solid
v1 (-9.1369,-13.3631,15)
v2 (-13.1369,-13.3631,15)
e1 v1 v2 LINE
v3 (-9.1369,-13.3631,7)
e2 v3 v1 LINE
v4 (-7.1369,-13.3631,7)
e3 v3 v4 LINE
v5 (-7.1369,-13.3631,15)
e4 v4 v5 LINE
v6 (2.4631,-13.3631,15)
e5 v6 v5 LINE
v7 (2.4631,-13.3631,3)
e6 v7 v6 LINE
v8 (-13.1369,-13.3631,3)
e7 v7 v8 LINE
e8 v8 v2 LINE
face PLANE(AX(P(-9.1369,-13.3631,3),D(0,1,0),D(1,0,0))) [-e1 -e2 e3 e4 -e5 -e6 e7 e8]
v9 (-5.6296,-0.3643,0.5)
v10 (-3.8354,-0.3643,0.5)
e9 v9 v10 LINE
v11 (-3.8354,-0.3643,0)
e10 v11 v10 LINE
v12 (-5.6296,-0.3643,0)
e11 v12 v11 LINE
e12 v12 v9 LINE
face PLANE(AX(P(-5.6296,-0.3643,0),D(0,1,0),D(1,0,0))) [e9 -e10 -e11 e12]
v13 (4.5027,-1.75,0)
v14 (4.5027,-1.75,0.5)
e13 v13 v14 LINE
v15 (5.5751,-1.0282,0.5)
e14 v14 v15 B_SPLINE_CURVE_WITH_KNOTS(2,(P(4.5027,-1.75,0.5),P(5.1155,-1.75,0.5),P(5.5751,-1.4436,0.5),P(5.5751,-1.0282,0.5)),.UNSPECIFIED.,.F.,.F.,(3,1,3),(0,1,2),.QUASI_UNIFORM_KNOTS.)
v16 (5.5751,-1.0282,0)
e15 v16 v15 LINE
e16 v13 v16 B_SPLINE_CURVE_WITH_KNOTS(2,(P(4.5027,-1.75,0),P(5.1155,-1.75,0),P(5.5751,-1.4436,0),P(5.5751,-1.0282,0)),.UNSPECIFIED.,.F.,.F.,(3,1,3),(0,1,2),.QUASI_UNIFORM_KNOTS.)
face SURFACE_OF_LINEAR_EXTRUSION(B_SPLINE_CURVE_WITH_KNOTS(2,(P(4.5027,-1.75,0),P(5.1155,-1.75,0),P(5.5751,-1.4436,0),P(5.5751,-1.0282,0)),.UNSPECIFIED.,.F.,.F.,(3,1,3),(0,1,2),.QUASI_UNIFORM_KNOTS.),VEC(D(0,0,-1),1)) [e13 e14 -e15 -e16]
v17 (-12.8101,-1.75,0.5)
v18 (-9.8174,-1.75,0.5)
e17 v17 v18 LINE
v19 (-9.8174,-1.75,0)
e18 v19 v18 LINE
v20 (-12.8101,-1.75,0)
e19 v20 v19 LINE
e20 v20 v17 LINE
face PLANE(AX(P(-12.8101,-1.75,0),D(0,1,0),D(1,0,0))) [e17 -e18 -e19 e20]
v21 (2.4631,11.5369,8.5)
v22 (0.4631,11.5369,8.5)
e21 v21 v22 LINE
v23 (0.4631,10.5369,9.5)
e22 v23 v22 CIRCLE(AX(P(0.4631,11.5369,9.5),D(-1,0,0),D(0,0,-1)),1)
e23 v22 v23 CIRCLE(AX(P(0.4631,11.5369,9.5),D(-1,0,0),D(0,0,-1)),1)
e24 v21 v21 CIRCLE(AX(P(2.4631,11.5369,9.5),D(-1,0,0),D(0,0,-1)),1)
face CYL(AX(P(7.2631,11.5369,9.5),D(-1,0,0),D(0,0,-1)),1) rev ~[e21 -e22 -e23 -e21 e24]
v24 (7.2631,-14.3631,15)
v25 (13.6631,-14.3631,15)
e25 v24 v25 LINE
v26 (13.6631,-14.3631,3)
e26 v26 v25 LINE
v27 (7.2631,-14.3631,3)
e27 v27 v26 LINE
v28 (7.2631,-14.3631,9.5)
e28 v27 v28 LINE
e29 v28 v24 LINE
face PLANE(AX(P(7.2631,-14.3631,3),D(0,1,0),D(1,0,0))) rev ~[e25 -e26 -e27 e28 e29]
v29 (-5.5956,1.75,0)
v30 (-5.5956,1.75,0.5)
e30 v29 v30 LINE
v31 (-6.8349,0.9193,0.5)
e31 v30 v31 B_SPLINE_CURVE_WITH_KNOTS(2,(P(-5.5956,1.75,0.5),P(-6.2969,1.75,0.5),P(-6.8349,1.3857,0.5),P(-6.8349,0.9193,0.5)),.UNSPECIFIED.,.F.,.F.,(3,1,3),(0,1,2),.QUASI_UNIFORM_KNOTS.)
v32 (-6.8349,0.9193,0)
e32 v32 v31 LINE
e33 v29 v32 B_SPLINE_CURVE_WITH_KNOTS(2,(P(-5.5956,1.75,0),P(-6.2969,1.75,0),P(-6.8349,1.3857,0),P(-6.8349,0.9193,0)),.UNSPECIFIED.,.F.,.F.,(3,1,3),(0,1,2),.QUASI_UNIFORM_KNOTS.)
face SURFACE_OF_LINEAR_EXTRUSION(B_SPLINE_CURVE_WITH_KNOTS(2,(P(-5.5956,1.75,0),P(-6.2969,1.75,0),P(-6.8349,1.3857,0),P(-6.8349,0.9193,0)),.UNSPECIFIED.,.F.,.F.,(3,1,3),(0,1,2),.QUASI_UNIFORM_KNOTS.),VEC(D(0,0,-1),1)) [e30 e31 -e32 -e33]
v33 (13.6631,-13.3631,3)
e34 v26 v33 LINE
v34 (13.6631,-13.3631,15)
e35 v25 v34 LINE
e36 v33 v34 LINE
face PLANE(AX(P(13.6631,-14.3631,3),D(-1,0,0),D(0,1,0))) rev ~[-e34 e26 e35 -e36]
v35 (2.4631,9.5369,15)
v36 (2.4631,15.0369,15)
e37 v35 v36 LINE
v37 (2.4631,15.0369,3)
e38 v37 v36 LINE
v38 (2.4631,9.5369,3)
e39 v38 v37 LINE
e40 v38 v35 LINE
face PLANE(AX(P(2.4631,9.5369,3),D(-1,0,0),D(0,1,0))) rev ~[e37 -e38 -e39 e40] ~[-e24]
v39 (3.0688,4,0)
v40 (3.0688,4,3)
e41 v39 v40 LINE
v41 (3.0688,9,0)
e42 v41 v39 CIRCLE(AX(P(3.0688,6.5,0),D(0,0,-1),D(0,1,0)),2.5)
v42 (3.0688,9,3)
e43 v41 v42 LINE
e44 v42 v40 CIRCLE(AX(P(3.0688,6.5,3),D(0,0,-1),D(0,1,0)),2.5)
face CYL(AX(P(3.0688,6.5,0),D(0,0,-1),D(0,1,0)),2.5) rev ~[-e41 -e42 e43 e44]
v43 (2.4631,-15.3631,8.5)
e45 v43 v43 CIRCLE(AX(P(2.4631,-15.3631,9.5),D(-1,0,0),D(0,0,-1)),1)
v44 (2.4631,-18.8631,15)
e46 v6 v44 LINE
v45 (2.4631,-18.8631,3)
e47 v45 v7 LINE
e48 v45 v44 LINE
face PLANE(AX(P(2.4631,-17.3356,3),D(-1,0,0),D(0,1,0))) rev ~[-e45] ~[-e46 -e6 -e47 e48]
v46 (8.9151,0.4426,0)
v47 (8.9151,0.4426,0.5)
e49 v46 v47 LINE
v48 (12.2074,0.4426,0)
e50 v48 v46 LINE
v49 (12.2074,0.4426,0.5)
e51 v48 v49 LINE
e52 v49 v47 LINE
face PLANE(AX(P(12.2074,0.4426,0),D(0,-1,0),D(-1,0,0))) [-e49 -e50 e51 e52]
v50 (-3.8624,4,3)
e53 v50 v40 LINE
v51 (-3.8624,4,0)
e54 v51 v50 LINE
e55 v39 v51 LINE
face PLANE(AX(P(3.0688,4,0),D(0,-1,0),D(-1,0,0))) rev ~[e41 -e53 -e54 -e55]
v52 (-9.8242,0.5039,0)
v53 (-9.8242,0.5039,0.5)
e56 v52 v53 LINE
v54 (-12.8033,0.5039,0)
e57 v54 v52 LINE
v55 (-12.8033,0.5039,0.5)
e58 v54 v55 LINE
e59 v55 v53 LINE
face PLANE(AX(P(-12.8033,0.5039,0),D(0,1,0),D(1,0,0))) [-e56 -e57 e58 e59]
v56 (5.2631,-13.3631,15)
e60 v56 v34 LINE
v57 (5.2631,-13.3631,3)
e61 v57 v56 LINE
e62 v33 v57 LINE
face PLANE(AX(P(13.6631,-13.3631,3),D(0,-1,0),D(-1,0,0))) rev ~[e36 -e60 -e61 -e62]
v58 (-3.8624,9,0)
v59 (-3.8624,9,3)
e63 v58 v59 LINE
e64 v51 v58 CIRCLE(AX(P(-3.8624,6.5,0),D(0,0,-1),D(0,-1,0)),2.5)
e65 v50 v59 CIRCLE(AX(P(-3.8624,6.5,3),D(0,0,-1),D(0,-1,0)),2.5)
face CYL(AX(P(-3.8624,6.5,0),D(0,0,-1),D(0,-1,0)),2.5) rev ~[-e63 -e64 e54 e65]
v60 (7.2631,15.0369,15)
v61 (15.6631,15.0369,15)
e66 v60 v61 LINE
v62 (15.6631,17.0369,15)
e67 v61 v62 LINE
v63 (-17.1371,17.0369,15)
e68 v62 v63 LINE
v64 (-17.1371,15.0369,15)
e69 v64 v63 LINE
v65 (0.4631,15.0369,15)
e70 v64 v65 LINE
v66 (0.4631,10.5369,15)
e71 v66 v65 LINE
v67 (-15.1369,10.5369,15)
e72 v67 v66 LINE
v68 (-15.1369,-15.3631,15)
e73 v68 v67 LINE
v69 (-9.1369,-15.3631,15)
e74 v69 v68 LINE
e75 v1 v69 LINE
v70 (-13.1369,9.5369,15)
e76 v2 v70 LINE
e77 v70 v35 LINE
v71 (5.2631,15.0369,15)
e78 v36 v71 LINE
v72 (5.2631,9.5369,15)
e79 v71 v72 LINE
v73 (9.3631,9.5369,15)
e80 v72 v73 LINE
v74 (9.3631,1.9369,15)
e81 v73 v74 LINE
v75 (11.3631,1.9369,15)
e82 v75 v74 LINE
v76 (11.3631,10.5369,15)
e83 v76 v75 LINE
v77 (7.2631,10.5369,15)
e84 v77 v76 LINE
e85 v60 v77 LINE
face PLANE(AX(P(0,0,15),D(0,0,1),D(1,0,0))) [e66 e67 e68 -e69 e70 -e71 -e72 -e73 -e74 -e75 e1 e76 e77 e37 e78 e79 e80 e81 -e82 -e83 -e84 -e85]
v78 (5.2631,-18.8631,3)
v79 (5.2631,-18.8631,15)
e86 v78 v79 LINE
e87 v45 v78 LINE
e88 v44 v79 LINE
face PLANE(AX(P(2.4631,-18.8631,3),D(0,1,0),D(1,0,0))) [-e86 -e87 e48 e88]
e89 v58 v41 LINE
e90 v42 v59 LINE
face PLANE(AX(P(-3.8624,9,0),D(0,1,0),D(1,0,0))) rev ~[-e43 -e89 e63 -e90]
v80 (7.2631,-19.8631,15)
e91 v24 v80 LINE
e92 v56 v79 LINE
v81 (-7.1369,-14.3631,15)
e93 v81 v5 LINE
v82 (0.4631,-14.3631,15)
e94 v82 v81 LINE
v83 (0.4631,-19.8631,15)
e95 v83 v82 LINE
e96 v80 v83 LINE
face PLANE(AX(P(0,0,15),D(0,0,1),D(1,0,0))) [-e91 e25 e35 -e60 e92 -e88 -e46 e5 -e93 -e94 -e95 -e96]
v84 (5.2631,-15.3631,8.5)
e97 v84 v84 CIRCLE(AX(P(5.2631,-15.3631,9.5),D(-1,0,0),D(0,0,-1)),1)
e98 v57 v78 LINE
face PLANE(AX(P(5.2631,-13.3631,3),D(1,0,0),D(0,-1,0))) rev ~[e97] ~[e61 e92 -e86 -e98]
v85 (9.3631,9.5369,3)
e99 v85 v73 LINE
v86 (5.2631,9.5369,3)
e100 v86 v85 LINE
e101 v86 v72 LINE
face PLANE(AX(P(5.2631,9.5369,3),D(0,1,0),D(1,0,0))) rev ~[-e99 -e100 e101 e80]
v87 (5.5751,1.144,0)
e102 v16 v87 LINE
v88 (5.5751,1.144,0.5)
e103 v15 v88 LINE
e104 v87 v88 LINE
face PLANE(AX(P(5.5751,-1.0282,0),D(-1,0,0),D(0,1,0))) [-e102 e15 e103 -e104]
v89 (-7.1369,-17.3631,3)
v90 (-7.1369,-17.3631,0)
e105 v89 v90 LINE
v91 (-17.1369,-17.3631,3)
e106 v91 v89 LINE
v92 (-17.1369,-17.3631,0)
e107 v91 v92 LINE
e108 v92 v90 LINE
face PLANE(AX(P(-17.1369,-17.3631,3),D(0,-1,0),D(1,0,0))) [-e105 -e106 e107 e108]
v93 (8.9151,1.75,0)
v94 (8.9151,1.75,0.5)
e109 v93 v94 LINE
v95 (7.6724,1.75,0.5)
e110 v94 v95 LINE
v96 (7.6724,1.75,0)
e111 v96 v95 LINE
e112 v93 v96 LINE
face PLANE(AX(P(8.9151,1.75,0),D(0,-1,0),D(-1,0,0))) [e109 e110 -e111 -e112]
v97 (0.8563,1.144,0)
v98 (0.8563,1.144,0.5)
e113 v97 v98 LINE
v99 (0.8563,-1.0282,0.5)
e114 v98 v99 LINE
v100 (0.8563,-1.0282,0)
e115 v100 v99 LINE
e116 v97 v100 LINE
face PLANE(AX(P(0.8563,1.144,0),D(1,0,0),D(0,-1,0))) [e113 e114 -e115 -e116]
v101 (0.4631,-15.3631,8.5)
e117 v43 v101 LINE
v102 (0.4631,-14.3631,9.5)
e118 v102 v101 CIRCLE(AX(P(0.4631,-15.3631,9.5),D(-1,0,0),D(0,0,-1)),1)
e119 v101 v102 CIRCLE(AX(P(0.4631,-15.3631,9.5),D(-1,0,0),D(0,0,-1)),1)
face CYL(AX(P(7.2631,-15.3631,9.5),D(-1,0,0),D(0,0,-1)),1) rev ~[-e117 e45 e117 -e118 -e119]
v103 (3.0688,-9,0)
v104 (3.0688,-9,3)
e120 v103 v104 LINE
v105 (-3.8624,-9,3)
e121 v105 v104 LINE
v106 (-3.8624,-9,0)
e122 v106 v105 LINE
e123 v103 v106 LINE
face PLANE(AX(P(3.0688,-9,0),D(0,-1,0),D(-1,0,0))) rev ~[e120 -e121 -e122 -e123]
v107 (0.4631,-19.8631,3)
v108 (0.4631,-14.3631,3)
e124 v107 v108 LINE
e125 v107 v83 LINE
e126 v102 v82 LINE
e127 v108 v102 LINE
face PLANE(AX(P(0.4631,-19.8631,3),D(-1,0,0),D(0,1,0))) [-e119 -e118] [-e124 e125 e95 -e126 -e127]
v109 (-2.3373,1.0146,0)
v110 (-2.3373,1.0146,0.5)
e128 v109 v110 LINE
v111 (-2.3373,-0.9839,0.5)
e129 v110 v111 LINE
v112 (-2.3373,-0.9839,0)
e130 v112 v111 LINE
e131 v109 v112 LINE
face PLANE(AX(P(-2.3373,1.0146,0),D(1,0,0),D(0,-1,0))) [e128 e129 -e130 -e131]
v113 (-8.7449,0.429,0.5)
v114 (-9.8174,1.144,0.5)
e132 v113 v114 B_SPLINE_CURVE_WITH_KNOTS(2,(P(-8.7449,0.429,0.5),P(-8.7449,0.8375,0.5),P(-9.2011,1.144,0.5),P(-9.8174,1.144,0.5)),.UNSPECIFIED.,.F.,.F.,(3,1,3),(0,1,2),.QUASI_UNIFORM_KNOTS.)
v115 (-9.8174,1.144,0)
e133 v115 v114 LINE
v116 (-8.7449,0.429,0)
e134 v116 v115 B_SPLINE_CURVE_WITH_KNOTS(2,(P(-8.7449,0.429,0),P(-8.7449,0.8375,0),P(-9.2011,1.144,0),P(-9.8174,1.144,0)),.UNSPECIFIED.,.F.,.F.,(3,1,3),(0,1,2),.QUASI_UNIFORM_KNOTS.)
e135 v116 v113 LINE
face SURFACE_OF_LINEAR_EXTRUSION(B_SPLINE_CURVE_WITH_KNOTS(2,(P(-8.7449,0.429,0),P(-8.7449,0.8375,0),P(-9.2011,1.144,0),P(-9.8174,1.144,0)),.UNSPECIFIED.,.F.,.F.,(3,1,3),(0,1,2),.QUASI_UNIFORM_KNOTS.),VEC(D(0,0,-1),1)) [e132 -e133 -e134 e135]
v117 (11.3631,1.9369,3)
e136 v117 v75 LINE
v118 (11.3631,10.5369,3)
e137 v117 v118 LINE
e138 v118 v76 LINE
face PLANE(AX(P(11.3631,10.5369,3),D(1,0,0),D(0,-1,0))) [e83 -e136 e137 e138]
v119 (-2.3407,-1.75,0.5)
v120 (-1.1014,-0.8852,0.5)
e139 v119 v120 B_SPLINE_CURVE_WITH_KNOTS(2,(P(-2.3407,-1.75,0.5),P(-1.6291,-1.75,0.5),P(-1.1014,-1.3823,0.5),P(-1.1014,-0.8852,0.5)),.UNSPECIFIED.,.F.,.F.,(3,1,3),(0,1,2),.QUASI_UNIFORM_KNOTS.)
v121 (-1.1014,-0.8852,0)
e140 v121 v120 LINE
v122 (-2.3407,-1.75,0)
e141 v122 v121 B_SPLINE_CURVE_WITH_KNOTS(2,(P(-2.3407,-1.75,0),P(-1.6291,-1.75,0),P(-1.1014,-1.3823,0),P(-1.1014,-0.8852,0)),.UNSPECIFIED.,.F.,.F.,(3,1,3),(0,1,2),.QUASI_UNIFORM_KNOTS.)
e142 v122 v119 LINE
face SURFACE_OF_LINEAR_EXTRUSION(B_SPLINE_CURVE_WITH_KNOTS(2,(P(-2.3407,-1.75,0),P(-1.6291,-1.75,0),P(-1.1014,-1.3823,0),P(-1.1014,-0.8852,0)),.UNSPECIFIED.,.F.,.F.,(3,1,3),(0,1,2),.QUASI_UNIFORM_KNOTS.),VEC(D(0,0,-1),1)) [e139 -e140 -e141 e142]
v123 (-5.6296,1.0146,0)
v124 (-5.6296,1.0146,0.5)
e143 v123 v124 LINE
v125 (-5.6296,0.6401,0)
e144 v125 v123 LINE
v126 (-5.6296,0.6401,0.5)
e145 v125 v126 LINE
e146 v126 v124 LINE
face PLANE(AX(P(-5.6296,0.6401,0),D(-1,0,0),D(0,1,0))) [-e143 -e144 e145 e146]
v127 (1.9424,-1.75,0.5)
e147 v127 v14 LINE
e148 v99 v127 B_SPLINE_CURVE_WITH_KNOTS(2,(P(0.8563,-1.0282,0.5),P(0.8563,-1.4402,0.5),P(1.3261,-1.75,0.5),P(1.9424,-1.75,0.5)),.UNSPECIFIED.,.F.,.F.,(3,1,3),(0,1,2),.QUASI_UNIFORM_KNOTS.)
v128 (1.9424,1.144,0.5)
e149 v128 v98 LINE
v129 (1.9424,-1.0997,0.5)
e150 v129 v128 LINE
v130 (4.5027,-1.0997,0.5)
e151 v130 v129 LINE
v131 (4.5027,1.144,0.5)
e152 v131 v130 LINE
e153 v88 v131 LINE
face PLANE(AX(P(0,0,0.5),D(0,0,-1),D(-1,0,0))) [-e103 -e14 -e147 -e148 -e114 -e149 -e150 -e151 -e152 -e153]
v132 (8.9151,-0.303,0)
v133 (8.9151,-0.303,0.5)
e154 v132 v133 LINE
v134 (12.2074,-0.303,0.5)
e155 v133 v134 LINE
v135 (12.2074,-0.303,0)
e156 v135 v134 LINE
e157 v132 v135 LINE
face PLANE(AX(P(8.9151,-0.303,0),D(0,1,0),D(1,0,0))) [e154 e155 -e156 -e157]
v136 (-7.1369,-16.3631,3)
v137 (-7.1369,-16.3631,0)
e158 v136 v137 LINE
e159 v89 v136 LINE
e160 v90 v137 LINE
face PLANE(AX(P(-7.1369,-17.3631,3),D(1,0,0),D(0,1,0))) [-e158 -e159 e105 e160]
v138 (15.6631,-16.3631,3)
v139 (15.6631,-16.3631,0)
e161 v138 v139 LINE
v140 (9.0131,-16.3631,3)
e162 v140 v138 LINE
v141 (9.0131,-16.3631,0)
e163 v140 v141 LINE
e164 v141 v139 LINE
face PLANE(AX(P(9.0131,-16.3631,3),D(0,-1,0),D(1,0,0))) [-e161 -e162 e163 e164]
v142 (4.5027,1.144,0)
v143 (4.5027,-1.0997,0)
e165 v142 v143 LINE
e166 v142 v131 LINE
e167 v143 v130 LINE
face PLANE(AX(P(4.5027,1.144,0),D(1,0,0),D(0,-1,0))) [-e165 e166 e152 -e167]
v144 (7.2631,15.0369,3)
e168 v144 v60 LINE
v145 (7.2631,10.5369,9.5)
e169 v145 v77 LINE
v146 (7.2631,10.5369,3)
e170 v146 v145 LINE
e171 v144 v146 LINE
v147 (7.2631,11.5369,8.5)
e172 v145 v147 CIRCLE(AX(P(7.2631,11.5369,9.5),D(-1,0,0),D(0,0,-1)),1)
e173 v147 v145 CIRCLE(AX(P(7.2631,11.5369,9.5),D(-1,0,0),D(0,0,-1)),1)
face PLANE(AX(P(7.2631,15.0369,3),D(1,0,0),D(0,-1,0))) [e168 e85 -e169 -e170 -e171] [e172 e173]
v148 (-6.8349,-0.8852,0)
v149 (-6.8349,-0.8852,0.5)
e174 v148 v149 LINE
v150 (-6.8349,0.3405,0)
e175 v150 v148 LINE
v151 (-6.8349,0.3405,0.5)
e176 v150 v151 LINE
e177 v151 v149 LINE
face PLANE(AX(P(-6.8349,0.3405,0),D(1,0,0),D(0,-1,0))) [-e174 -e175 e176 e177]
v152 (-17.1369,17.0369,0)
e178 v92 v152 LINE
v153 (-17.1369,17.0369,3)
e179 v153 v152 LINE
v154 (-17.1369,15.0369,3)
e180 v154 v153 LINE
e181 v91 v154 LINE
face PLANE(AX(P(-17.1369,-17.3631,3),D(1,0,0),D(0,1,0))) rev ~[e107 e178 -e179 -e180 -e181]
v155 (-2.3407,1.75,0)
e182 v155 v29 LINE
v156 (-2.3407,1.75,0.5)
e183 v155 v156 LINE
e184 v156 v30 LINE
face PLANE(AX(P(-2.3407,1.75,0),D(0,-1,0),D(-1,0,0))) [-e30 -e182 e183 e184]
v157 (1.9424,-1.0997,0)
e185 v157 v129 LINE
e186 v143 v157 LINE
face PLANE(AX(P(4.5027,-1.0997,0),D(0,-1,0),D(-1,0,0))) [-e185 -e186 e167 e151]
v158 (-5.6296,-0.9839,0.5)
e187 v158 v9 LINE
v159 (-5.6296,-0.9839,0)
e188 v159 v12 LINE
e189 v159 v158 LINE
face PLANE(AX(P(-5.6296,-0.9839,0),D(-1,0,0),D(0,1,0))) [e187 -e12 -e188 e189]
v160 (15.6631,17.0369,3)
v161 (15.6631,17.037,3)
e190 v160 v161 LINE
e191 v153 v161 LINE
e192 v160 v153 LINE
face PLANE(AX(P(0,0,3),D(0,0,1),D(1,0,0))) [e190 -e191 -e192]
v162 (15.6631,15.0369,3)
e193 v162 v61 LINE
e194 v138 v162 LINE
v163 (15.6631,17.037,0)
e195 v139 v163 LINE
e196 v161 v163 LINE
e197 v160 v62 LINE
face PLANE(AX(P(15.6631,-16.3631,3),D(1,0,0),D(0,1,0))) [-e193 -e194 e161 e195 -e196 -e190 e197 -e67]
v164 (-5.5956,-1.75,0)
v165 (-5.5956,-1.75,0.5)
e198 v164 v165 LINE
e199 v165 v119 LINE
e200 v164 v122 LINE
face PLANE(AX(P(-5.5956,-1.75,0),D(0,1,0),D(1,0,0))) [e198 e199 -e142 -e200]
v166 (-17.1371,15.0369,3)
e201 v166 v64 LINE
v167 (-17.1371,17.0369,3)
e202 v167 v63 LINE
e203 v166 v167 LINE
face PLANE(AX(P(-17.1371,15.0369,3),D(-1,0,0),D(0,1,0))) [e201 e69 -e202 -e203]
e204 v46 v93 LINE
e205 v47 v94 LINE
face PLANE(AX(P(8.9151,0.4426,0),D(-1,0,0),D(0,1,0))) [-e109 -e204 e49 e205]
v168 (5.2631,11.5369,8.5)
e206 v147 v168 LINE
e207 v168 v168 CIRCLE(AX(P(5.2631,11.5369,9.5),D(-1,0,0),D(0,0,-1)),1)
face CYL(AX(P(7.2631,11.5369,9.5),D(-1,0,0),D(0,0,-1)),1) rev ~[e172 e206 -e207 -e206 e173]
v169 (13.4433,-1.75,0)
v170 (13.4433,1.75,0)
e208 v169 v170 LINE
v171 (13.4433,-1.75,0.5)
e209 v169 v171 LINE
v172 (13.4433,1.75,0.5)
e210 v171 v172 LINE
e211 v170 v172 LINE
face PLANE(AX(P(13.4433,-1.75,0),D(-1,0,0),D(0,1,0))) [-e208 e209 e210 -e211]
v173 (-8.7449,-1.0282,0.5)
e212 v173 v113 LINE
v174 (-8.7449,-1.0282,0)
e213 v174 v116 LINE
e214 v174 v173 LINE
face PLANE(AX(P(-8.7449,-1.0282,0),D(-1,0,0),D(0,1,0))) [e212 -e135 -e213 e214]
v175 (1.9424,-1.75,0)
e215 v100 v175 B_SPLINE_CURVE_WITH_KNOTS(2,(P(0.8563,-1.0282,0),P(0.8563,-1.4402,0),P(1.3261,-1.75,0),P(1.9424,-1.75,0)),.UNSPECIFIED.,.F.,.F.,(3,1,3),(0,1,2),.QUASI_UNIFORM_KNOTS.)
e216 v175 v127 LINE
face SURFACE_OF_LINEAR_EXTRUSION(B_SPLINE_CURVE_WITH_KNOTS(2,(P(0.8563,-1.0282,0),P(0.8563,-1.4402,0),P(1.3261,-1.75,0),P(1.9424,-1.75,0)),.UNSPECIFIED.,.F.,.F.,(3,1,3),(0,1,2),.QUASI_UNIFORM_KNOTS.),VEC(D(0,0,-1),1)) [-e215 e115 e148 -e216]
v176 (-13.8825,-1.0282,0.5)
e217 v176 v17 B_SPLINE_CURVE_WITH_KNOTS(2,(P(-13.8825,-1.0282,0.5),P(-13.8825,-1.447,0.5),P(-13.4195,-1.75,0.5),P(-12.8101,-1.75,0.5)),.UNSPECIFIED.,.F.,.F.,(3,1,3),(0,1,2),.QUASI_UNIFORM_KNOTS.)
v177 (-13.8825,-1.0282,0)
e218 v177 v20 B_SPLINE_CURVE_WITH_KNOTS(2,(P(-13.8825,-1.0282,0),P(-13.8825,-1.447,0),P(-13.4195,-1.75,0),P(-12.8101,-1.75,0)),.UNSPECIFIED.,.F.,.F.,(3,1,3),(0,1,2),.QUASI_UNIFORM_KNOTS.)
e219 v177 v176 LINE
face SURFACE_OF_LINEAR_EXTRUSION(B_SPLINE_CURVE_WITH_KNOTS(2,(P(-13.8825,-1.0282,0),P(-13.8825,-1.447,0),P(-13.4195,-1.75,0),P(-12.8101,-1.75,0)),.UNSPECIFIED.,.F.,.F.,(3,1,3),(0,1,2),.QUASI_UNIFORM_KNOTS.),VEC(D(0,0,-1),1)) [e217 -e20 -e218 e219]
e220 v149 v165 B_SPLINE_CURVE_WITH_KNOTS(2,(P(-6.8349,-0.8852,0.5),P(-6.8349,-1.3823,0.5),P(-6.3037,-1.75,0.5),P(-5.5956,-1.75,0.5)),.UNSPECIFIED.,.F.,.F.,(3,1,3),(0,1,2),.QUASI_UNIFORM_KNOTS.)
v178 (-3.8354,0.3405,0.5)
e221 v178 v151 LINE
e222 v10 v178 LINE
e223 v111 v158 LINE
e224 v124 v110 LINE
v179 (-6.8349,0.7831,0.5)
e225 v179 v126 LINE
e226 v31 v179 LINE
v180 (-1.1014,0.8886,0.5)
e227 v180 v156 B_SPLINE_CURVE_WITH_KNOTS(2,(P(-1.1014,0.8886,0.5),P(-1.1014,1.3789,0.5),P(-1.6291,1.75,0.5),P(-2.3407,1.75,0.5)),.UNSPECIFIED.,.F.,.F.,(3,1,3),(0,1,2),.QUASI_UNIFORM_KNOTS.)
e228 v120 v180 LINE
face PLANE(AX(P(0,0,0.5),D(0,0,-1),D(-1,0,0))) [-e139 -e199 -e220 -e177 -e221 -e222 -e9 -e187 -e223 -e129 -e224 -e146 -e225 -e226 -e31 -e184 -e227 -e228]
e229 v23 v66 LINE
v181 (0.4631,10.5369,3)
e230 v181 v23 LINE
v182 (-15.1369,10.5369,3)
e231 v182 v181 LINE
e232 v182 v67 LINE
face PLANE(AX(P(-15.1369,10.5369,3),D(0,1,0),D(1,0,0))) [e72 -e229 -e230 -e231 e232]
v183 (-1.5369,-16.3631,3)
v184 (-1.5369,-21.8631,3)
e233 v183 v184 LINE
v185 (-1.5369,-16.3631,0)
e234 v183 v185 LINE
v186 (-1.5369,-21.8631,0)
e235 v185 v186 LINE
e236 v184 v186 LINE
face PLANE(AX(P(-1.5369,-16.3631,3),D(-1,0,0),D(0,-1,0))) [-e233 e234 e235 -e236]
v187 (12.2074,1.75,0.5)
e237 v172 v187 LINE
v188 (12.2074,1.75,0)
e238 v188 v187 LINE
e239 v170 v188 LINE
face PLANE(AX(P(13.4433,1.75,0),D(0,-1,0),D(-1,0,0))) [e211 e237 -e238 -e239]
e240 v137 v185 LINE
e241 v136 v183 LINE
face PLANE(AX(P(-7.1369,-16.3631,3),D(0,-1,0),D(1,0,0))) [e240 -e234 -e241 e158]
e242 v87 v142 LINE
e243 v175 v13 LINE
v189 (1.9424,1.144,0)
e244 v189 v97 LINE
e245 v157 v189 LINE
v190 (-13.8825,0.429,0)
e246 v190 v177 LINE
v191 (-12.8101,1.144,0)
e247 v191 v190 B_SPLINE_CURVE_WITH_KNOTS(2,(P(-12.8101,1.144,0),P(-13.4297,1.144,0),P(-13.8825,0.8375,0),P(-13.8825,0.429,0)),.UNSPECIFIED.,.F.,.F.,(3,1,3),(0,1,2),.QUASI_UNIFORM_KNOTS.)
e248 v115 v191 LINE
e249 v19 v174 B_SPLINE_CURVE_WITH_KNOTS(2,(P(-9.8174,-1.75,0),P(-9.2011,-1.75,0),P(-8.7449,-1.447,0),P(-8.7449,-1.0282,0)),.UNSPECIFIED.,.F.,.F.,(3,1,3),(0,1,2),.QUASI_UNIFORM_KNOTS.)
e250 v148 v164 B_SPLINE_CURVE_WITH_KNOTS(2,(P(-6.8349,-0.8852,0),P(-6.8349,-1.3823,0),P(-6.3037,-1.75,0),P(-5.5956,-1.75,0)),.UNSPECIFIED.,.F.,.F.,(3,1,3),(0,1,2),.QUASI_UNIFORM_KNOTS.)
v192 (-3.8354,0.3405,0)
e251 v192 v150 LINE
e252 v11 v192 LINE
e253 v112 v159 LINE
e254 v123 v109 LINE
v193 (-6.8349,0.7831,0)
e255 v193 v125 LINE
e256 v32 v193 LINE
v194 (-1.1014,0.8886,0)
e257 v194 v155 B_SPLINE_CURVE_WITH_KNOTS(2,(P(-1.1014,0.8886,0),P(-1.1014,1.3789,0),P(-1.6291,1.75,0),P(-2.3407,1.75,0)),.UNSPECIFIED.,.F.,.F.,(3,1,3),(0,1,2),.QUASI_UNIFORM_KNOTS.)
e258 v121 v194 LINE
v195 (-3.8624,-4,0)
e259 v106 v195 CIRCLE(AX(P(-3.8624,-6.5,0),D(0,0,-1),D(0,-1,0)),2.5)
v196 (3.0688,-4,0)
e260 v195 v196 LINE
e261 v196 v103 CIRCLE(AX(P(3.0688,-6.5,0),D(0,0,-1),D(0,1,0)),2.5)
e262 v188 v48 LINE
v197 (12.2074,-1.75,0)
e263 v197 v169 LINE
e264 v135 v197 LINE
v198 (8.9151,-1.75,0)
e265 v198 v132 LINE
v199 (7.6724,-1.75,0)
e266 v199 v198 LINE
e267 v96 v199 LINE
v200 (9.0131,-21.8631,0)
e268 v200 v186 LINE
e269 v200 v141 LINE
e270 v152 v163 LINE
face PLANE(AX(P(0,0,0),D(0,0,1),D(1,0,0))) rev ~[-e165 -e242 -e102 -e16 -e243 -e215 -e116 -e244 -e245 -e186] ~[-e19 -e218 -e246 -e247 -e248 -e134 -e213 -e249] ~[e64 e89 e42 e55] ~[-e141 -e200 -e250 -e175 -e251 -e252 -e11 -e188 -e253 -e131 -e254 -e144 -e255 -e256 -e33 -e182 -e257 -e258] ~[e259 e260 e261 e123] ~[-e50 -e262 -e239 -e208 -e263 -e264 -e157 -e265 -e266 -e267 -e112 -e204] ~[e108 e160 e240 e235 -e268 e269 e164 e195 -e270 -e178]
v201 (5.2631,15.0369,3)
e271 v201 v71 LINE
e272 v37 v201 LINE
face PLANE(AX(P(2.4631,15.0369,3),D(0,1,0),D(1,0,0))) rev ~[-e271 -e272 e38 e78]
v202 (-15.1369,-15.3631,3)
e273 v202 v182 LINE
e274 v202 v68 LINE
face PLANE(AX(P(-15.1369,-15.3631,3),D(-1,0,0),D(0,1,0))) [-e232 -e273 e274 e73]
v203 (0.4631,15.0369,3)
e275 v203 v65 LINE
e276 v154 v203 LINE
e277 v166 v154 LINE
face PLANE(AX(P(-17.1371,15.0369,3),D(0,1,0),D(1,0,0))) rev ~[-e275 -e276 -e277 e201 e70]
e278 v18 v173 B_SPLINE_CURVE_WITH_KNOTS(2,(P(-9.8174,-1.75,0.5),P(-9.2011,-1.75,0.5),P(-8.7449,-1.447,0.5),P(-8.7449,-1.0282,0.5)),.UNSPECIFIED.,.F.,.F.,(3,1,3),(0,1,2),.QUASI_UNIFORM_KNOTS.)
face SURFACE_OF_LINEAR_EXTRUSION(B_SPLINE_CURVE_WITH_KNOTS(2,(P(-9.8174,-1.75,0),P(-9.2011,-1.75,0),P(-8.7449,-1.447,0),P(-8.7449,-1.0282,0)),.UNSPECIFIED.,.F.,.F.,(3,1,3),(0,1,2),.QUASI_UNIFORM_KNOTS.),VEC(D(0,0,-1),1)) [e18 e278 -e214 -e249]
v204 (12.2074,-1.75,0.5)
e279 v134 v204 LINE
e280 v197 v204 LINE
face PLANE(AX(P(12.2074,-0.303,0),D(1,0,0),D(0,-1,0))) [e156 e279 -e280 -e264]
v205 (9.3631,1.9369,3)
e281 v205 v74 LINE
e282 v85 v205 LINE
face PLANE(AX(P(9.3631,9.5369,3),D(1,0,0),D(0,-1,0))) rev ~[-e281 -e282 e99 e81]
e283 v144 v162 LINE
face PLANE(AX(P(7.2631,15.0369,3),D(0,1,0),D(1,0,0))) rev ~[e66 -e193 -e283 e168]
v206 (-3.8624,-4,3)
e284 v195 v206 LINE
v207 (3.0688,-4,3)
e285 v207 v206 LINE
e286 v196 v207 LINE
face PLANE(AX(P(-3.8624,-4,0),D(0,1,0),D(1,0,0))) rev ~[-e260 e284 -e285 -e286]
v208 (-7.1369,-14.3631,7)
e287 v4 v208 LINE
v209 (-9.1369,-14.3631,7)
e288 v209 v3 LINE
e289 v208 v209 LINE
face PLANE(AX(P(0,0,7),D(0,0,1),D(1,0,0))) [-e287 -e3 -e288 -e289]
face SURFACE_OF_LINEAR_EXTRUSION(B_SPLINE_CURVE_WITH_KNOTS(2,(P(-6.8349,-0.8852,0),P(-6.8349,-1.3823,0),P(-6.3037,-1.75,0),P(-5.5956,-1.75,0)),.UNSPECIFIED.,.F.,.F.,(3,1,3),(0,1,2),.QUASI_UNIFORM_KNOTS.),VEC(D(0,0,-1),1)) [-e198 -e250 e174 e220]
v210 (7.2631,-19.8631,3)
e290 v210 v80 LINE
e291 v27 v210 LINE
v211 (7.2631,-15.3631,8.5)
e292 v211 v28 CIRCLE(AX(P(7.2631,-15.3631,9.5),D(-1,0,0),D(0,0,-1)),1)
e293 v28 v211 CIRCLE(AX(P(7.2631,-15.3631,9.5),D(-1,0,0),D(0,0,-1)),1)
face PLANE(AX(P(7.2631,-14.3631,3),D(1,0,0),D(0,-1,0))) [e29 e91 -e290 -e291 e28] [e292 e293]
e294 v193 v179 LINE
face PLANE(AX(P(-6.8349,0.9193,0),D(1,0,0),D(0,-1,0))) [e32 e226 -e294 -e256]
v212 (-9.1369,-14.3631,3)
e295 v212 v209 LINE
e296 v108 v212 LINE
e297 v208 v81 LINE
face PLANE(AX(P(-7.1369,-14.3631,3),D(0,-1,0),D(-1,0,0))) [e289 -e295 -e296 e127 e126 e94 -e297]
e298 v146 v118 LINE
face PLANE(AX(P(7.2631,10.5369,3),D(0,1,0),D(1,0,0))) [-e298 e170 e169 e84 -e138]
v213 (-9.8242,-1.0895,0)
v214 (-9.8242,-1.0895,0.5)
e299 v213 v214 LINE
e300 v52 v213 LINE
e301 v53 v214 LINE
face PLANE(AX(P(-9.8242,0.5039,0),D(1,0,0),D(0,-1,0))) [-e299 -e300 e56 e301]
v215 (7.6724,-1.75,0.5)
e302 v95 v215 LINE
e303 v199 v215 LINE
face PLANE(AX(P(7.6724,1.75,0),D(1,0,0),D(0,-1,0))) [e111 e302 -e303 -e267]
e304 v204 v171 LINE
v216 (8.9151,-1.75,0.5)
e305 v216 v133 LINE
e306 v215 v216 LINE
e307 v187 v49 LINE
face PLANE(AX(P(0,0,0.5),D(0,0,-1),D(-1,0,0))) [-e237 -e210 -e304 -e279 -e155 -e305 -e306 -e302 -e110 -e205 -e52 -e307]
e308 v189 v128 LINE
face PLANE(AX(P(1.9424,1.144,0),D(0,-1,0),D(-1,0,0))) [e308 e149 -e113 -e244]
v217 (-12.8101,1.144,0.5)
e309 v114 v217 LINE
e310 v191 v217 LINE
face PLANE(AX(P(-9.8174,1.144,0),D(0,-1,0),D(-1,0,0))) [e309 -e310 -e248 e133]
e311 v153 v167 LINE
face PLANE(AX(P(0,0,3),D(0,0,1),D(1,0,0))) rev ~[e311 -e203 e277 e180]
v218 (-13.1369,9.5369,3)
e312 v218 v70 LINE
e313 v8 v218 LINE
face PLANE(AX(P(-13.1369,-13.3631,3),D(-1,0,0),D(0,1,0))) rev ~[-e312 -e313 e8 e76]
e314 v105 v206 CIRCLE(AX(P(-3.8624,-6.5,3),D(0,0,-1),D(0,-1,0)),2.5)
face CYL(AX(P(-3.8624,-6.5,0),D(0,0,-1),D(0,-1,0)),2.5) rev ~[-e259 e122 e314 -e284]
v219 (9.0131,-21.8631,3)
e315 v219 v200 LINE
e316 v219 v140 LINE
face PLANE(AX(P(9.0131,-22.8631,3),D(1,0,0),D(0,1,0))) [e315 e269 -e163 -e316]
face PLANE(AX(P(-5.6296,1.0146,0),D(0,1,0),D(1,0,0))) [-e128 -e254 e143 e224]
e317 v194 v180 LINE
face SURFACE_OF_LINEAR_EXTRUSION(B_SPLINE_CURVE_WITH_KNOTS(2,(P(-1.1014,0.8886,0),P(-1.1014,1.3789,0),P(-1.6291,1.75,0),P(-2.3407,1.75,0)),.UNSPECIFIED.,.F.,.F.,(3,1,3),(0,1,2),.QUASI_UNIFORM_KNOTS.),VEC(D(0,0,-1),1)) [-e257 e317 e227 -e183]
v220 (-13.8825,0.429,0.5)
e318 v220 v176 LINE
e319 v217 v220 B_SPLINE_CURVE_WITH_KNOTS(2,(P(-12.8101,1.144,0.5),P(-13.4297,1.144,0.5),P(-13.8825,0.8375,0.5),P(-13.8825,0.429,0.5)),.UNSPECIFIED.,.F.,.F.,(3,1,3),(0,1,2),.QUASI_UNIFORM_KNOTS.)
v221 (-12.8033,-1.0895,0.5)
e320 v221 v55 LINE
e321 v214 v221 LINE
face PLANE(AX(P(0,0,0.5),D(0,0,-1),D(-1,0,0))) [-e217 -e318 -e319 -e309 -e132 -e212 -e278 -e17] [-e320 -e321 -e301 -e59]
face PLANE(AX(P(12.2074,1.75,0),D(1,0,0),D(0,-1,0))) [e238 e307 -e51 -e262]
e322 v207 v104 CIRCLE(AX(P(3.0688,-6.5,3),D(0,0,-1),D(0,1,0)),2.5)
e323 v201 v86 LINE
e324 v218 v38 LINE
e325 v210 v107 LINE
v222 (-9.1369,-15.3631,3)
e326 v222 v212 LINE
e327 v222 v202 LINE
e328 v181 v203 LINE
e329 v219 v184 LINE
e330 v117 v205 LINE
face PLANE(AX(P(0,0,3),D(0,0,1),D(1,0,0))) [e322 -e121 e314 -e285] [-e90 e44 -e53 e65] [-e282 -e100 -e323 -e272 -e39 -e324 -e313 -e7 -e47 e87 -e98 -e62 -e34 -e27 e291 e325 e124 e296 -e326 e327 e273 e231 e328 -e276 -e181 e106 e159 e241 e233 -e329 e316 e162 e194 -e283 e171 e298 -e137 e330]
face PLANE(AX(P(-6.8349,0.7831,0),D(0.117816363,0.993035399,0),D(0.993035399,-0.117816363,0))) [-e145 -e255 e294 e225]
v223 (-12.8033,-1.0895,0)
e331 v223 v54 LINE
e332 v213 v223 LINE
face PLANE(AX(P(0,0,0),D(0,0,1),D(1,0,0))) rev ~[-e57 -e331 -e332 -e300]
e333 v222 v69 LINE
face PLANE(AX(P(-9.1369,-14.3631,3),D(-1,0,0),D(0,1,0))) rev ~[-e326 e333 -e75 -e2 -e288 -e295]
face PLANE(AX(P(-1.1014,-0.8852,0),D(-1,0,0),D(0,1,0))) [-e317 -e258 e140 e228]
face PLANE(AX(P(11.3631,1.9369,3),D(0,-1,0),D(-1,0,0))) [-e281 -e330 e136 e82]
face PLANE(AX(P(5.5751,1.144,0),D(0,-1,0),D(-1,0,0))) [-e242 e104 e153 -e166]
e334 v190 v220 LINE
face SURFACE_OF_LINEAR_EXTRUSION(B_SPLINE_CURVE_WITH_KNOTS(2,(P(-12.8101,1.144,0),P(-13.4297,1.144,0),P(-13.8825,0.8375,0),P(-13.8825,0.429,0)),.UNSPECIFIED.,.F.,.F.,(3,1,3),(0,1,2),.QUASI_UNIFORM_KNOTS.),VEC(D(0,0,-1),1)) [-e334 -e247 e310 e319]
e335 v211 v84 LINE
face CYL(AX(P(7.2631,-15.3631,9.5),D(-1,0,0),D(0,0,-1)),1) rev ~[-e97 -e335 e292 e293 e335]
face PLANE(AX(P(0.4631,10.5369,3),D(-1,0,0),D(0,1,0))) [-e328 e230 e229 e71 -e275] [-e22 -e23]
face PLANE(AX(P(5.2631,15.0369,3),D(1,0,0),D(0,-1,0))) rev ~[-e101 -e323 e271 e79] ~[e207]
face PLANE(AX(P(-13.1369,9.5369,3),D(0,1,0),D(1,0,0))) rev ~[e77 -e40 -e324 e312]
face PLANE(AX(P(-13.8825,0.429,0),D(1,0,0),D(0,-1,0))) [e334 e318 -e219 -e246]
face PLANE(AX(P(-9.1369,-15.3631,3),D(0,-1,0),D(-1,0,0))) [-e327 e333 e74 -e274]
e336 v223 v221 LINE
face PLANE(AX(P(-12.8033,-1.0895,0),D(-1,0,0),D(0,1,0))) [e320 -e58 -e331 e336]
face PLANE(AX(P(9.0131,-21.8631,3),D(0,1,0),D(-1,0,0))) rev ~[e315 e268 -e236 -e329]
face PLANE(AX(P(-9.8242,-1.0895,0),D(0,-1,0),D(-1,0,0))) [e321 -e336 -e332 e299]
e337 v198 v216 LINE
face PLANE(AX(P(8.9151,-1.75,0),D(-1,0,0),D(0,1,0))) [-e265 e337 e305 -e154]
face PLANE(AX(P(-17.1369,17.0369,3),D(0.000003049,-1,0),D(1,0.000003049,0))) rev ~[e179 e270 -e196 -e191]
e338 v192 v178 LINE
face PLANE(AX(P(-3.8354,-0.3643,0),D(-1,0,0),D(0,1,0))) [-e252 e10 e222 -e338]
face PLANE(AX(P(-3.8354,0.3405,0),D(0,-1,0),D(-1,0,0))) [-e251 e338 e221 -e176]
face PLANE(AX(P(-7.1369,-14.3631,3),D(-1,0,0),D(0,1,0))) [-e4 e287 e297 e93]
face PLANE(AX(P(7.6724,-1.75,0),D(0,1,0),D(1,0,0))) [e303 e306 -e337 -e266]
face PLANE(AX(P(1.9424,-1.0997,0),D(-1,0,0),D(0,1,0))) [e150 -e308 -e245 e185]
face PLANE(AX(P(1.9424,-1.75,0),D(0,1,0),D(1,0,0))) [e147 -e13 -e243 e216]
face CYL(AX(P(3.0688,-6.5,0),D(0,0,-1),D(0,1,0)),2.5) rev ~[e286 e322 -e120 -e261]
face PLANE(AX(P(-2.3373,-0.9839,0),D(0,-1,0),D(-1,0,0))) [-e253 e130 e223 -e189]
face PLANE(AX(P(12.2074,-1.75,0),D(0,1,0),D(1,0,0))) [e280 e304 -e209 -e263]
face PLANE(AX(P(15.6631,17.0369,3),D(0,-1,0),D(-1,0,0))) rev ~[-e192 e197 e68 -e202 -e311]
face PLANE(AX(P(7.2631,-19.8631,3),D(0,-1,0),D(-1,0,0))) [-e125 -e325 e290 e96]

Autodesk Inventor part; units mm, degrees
ref_plane "YZ Plane" through (0, 0, 0) normal (1, 0, 0) x (0, 1, 0)
ref_plane "XZ Plane" through (0, 0, 0) normal (0, 1, 0) x (-1, 0, 0)
ref_plane "XY Plane" through (0, 0, 0) normal (0, 0, 1) x (1, 0, 0)
sketch "Sketch1" plane through (0, 0, 0) normal (0, 0, 1) x (1, 0, 0)
  line L0 (-20, -25) -> (20, -25)
  line L1 (20, -25) -> (20, 25)
  line L2 (20, 25) -> (-20, 25)
  line L3 (-20, 25) -> (-20, -25)
  line L4 (-20, -25) -> (20, 25) construction
  line L5 (20, -25) -> (-20, 25) construction
  point P0 (0, 0)
  dimension "Szelesseg" = 40
  dimension "Magassag" = 50
extrude "Extrusion1" add sketch "Sketch1" along normal blind 3
sketch "Sketch12" plane through (0, 0, 3) normal (0, 0, 1) x (1, 0, 0)
  line L0 (9.3631, -13.3631) -> (5.2631, -13.3631)
  line L1 (5.2631, -13.3631) -> (5.2631, -18.8631)
  line L2 (2.4631, -17.3356) -> (2.4631, -13.3631)
  line L3 (-13.1369, -13.3631) -> (-13.1369, 9.5369)
  line L4 (-13.1369, 9.5369) -> (2.4631, 9.5369)
  line L5 (2.4631, 9.5369) -> (2.4631, 15.0369)
  line L6 (2.4631, 15.0369) -> (5.2631, 15.0369)
  line L7 (5.2631, 15.0369) -> (5.2631, 9.5369)
  line L8 (5.2631, 9.5369) -> (9.3631, 9.5369)
  line L9 (9.3631, 9.5369) -> (9.3631, 1.9369)
  line L10 (7.2631, -14.3631) -> (7.2631, -19.8631)
  line L11 (7.2631, -19.8631) -> (0.4631, -19.8631)
  line L12 (0.4631, -19.8631) -> (0.4631, -14.3631)
  line L13 (-15.1369, -15.3631) -> (-15.1369, 10.5369)
  line L14 (-15.1369, 10.5369) -> (0.4631, 10.5369)
  line L15 (0.4631, 10.5369) -> (0.4631, 15.0369)
  line L16 (7.2631, 15.0369) -> (7.2631, 10.5369)
  line L17 (7.2631, 10.5369) -> (11.3631, 10.5369)
  line L18 (11.3631, 10.5369) -> (11.3631, 3.6471)
  line L19 (7.2631, -14.3631) -> (13.6631, -14.3631)
  line L20 (13.6631, -14.3631) -> (13.6631, -13.3631)
  line L21 (13.6631, -13.3631) -> (9.3631, -13.3631)
  line L22 (-9.1369, -15.3631) -> (-9.1369, -13.3631)
  line L23 (-7.1369, -14.3631) -> (-7.1369, -13.3631)
  line L24 (0.4631, -14.3631) -> (-7.1369, -14.3631)
  line L25 (-9.1369, -15.3631) -> (-15.1369, -15.3631)
  line L26 (2.4631, -13.3631) -> (-7.1369, -13.3631)
  line L27 (-9.1369, -13.3631) -> (-13.1369, -13.3631)
  line L28 (18.3631, 23.3631) -> (18.3631, -23.3631) projected
  line L29 (18.3631, -23.3631) -> (-18.3631, -23.3631) projected
  line L30 (-18.3631, 23.3631) -> (18.3631, 23.3631) projected
  line L31 (2.4631, -17.3356) -> (2.4631, -18.8631)
  line L32 (-16.127, -21.127) -> (16.127, -21.127) projected
  line L33 (2.4631, -18.8631) -> (5.2631, -18.8631)
  line L34 (11.3631, 3.6471) -> (11.3631, 1.9369)
  line L35 (11.3631, 1.9369) -> (9.3631, 1.9369)
  line L36 (-9.1369, -14.3631) -> (-7.1369, -14.3631)
  line L37 (-9.1369, -13.3631) -> (-7.1369, -13.3631)
  line L38 (7.2631, 15.0369) -> (18.3631, 15.0369)
  line L39 (18.3631, 15.0369) -> (18.3631, 17.0369)
  line L40 (18.3631, 17.0369) -> (-18.3631, 17.0369)
  line L41 (-18.3631, 17.0369) -> (-18.3631, 15.0369)
  line L42 (-18.3631, 15.0369) -> (0.4631, 15.0369)
  line L43 (-18.3631, -23.3631) -> (-18.3631, 15.0369)
  line L44 (-18.3631, 17.0369) -> (-18.3631, 23.3631)
  line L45 (-17.1371, 15.0369) -> (-17.1371, 17.0369)
  line L46 (15.6631, 15.0369) -> (15.6631, 17.0369)
  point P0 (19.6785, 0.2929)
  dimension "d83" = 22.5
  dimension "d85" = 2.8
  dimension "d86" = 2.8
  dimension "d87" = 15.6
  dimension "d88" = 15.6
  dimension "d89" = 4.1
  dimension "d90" = 4.1
  dimension "d91" = 7.6
  dimension "d92" = 5.5
  dimension "d95" = 22.9
  dimension "d97" = 2
  dimension "d98" = 2
  dimension "d100" = 2
  dimension "d101" = 2
  dimension "d102" = 2
  dimension "d103" = 4.3
  dimension "d105" = 2
  dimension "d106" = 1
  dimension "d107" = 1
  dimension "d109" = 1
  dimension "d110" = 4
  dimension "d111" = 2
  dimension "d112" = 2
  dimension "d113" = 1
  dimension "d114" = 22.9
  dimension "d125" = 3.5
  dimension "d130" = 4.7
  dimension "d132" = 9
  dimension "d133" = 5.5
  dimension "d139" = 1
  dimension "d181" = 2
  dimension "d182" = 2
  dimension "d185" = 4.5
  dimension "d186" = 1.226
  dimension "d187" = 2.7
sketch "Sketch22" plane through (0, 0, 3) normal (0, 0, 1) x (1, 0, 0)
  line L0 (9.0131, -16.3631) -> (15.6631, -16.3631) projected
  line L1 (15.6631, -16.3631) -> (15.6631, 25)
  line L2 (20, 25) -> (-20, 25) projected
  line L3 (9.0131, -22.8631) -> (9.0131, -16.3631) projected
  line L4 (9.0131, -16.3631) -> (9.0131, -22.8631)
  line L5 (-1.5369, -16.3631) -> (-1.5369, -22.8631) projected
  line L6 (9.0131, -22.8631) -> (-1.5369, -22.8631)
  line L7 (-1.5369, -22.8631) -> (-1.5369, -16.3631)
  line L8 (-7.1369, -16.3631) -> (-1.5369, -16.3631) projected
  line L9 (-1.5369, -16.3631) -> (-7.1369, -16.3631)
  line L10 (-17.1369, -17.3631) -> (-7.1369, -17.3631) projected
  line L11 (-7.1369, -17.3631) -> (-7.1369, -16.3631)
  line L12 (-17.1369, -17.3631) -> (-17.1369, 25)
  line L13 (-20, 25) -> (-20, -25)
  line L14 (-20, -25) -> (20, -25)
  line L15 (20, -25) -> (20, 25) projected
  line L16 (20, -25) -> (20, 25)
  line L17 (20, 25) -> (15.6631, 25)
  point P0 (0, 0)
extrude "Extrusion7" cut sketch "Sketch22" against normal blind 10 contours L0 L1 L2 L15 L14 L13 L12 L10 L11 L8 L5 L6 L3
extrude "Extrusion12" add sketch "Sketch12" along normal blind 12 contours L21 L20 L19 L10 L11 L12 L24 L23 L26 L2 L31 L33 L1 L0 | L22 L25 L13 L14 L15 L42 L45 L40 L46 L38 L16 L17 L18 L34 L35 L9 L8 L7 L6 L5 L4 L3 L27
sketch "Sketch32" plane through (0, 0, 3) normal (0, 0, 1) x (1, 0, 0)
  line L0 (-17.1369, 25) -> (-17.1369, 17.0369) projected
  line L1 (15.6631, 25) -> (-17.1369, 25)
  line L2 (-17.1369, 25) -> (-17.1369, 17.037)
  line L3 (-17.1369, 17.037) -> (15.6631, 17.037)
  line L4 (15.6631, 17.037) -> (15.6631, 25)
  point P0 (0, 0)
  dimension "d190" = 7.963
extrude "Extrusion13" cut sketch "Sketch32" against normal blind 12
sketch "Sketch33" plane through (7.2631, -19.8631, 3) normal (1, 0, 0) x (0, 0, -1)
  line L0 (0, -3) -> (0, 3.5) projected
  line L1 (0, 5.5) -> (-12, 5.5) projected
  line L2 (0, 3.5) -> (0, 34.9) projected
  line L3 (0, 30.4) -> (-12, 30.4) projected
  point P0 (3, 19.8631)
  point P1 (-6.5, 4.5)
  point P2 (-6.5, 31.4)
  dimension "d194" = 6.5
  dimension "d195" = 1
  dimension "d196" = 6.5
  dimension "d197" = 1
hole "Hole4" at (7.2631, -15.3631, 9.5) at (7.2631, 11.5369, 9.5) direction (-1, 0, 0) diameter 2 depth 8 tip angle 118
sketch "Sketch35" plane through (0, 0, 3) normal (0, 0, 1) x (1, 0, 0)
  line L0 (-9.1369, -15.3631) -> (-9.1369, -13.3631) projected
  line L1 (0.4631, -14.3631) -> (-7.1369, -14.3631) projected
  line L2 (-9.1369, -13.3631) -> (-7.1369, -13.3631)
  line L3 (-7.1369, -13.3631) -> (-7.1369, -14.3631)
  line L4 (-7.1369, -14.3631) -> (-9.1369, -14.3631)
  line L5 (-9.1369, -14.3631) -> (-9.1369, -13.3631)
  point P0 (0, 0)
extrude "Extrusion14" add sketch "Sketch35" along normal blind 4
sketch "Sketch36" plane through (0, 0, 3) normal (0, 0, 1) x (1, 0, 0)
  line L0 (-1.5369, -22.8631) -> (-1.5369, -16.3631) projected
  line L1 (9.0131, -16.3631) -> (9.0131, -22.8631) projected
  line L2 (-1.5369, -22.8631) -> (9.0131, -22.8631)
  line L3 (9.0131, -22.8631) -> (9.0131, -21.8631)
  line L4 (9.0131, -21.8631) -> (-1.5369, -21.8631)
  line L5 (-1.5369, -21.8631) -> (-1.5369, -22.8631)
  point P0 (0, 0)
  dimension "d207" = 1
extrude "Extrusion15" cut sketch "Sketch36" against normal blind 10
sketch "Sketch41" plane through (0, 0, 0) normal (0, 0, -1) x (-1, 0, 0)
  line L0 (-13.4433, -1.75) -> (-13.4433, 1.75)
  line L1 (-13.4433, 1.75) -> (-12.2074, 1.75)
  line L2 (-12.2074, 1.75) -> (-12.2074, 0.4426)
  line L3 (-12.2074, 0.4426) -> (-8.9151, 0.4426)
  line L4 (-8.9151, 0.4426) -> (-8.9151, 1.75)
  line L5 (-8.9151, 1.75) -> (-7.6724, 1.75)
  line L6 (-7.6724, 1.75) -> (-7.6724, -1.75)
  line L7 (-7.6724, -1.75) -> (-8.9151, -1.75)
  line L8 (-8.9151, -1.75) -> (-8.9151, -0.303)
  line L9 (-8.9151, -0.303) -> (-12.2074, -0.303)
  line L10 (-12.2074, -0.303) -> (-12.2074, -1.75)
  line L11 (-12.2074, -1.75) -> (-13.4433, -1.75)
  line L12 (-4.5027, 1.144) -> (-4.5027, -1.0997)
  line L13 (-4.5027, -1.0997) -> (-1.9424, -1.0997)
  line L14 (-1.9424, -1.0997) -> (-1.9424, 1.144)
  line L15 (-1.9424, 1.144) -> (-0.8563, 1.144)
  line L16 (-0.8563, 1.144) -> (-0.8563, -1.0282)
  spline S0 degree 2 poles (-0.8563, -1.0282) (-0.8563, -1.4402) (-1.3261, -1.75) (-1.9424, -1.75) knots 0 0 0 1 2 2 2
  line L17 (-1.9424, -1.75) -> (-4.5027, -1.75)
  spline S1 degree 2 poles (-4.5027, -1.75) (-5.1155, -1.75) (-5.5751, -1.4436) (-5.5751, -1.0282) knots 0 0 0 1 2 2 2
  line L18 (-5.5751, -1.0282) -> (-5.5751, 1.144)
  line L19 (-5.5751, 1.144) -> (-4.5027, 1.144)
  line L20 (5.6296, 1.0146) -> (2.3373, 1.0146)
  line L21 (2.3373, 1.0146) -> (2.3373, -0.9839)
  line L22 (2.3373, -0.9839) -> (5.6296, -0.9839)
  line L23 (5.6296, -0.9839) -> (5.6296, -0.3643)
  line L24 (5.6296, -0.3643) -> (3.8354, -0.3643)
  line L25 (3.8354, -0.3643) -> (3.8354, 0.3405)
  line L26 (3.8354, 0.3405) -> (6.8349, 0.3405)
  line L27 (6.8349, 0.3405) -> (6.8349, -0.8852)
  spline S2 degree 2 poles (6.8349, -0.8852) (6.8349, -1.3823) (6.3037, -1.75) (5.5956, -1.75) knots 0 0 0 1 2 2 2
  line L28 (5.5956, -1.75) -> (2.3407, -1.75)
  spline S3 degree 2 poles (2.3407, -1.75) (1.6291, -1.75) (1.1014, -1.3823) (1.1014, -0.8852) knots 0 0 0 1 2 2 2
  line L29 (1.1014, -0.8852) -> (1.1014, 0.8886)
  spline S4 degree 2 poles (1.1014, 0.8886) (1.1014, 1.3789) (1.6291, 1.75) (2.3407, 1.75) knots 0 0 0 1 2 2 2
  line L30 (2.3407, 1.75) -> (5.5956, 1.75)
  spline S5 degree 2 poles (5.5956, 1.75) (6.2969, 1.75) (6.8349, 1.3857) (6.8349, 0.9193) knots 0 0 0 1 2 2 2
  line L31 (6.8349, 0.9193) -> (6.8349, 0.7831)
  line L32 (6.8349, 0.7831) -> (5.6296, 0.6401)
  line L33 (5.6296, 0.6401) -> (5.6296, 1.0146)
  spline S6 degree 2 poles (8.7449, 0.429) (8.7449, 0.8375) (9.2011, 1.144) (9.8174, 1.144) knots 0 0 0 1 2 2 2
  line L34 (9.8174, 1.144) -> (12.8101, 1.144)
  spline S7 degree 2 poles (12.8101, 1.144) (13.4297, 1.144) (13.8825, 0.8375) (13.8825, 0.429) knots 0 0 0 1 2 2 2
  line L35 (13.8825, 0.429) -> (13.8825, -1.0282)
  spline S8 degree 2 poles (13.8825, -1.0282) (13.8825, -1.447) (13.4195, -1.75) (12.8101, -1.75) knots 0 0 0 1 2 2 2
  line L36 (12.8101, -1.75) -> (9.8174, -1.75)
  spline S9 degree 2 poles (9.8174, -1.75) (9.2011, -1.75) (8.7449, -1.447) (8.7449, -1.0282) knots 0 0 0 1 2 2 2
  line L37 (8.7449, -1.0282) -> (8.7449, 0.429)
  line L38 (9.8242, -1.0895) -> (12.8033, -1.0895)
  line L39 (12.8033, -1.0895) -> (12.8033, 0.5039)
  line L40 (12.8033, 0.5039) -> (9.8242, 0.5039)
  line L41 (9.8242, 0.5039) -> (9.8242, -1.0895)
  point P0 (0, 0)
  point P1 (0, 0)
extrude "Extrusion18" cut sketch "Sketch41" against normal blind 0.5
sketch "Sketch43" plane through (0, 0, 0) normal (0, 0, -1) x (-1, 0, 0)
  line L0 (-5.5688, 6.5) -> (6.3624, 6.5) construction
  line L1 (-3.0688, 4) -> (3.8624, 4)
  line L2 (3.8624, 9) -> (-3.0688, 9)
  arc A0 (-3.0688, 9) -> (-3.0688, 4) centre (-3.0688, 6.5) ccw
  arc A1 (3.8624, 4) -> (3.8624, 9) centre (3.8624, 6.5) ccw
  line L3 (-5.5688, -6.5) -> (6.3624, -6.5) construction
  line L4 (8.7449, -1.0282) -> (8.7449, 0.429) projected
  line L5 (-3.0688, -9) -> (3.8624, -9)
  line L6 (3.8624, -4) -> (-3.0688, -4)
  arc A2 (-3.0688, -4) -> (-3.0688, -9) centre (-3.0688, -6.5) ccw
  arc A3 (3.8624, -9) -> (3.8624, -4) centre (3.8624, -6.5) ccw
  point P0 (0, 0)
  point P1 (0.3968, 6.5)
  point P2 (0.3968, -6.5)
  dimension "d267" = 5
  dimension "d268" = 5
  dimension "d269" = 4
  dimension "d270" = 4
extrude "Extrusion20" cut sketch "Sketch43" against normal blind 10
equation "\"d86\" = d85"
equation "\"d90\" = d89"
equation "\"d95\" = d82"
equation "\"d9\" = 0.5 * d10"
equation "\"d12\" = d11"
equation "\"d13\" = d11"
equation "\"d14\" = d11"
equation "\"d93\" = d92"
equation "\"d82\" = 22.9"
equation "\"d10\" = 18.133333"
equation "\"d11\" = 2"
properties part number "Hip_holder"
